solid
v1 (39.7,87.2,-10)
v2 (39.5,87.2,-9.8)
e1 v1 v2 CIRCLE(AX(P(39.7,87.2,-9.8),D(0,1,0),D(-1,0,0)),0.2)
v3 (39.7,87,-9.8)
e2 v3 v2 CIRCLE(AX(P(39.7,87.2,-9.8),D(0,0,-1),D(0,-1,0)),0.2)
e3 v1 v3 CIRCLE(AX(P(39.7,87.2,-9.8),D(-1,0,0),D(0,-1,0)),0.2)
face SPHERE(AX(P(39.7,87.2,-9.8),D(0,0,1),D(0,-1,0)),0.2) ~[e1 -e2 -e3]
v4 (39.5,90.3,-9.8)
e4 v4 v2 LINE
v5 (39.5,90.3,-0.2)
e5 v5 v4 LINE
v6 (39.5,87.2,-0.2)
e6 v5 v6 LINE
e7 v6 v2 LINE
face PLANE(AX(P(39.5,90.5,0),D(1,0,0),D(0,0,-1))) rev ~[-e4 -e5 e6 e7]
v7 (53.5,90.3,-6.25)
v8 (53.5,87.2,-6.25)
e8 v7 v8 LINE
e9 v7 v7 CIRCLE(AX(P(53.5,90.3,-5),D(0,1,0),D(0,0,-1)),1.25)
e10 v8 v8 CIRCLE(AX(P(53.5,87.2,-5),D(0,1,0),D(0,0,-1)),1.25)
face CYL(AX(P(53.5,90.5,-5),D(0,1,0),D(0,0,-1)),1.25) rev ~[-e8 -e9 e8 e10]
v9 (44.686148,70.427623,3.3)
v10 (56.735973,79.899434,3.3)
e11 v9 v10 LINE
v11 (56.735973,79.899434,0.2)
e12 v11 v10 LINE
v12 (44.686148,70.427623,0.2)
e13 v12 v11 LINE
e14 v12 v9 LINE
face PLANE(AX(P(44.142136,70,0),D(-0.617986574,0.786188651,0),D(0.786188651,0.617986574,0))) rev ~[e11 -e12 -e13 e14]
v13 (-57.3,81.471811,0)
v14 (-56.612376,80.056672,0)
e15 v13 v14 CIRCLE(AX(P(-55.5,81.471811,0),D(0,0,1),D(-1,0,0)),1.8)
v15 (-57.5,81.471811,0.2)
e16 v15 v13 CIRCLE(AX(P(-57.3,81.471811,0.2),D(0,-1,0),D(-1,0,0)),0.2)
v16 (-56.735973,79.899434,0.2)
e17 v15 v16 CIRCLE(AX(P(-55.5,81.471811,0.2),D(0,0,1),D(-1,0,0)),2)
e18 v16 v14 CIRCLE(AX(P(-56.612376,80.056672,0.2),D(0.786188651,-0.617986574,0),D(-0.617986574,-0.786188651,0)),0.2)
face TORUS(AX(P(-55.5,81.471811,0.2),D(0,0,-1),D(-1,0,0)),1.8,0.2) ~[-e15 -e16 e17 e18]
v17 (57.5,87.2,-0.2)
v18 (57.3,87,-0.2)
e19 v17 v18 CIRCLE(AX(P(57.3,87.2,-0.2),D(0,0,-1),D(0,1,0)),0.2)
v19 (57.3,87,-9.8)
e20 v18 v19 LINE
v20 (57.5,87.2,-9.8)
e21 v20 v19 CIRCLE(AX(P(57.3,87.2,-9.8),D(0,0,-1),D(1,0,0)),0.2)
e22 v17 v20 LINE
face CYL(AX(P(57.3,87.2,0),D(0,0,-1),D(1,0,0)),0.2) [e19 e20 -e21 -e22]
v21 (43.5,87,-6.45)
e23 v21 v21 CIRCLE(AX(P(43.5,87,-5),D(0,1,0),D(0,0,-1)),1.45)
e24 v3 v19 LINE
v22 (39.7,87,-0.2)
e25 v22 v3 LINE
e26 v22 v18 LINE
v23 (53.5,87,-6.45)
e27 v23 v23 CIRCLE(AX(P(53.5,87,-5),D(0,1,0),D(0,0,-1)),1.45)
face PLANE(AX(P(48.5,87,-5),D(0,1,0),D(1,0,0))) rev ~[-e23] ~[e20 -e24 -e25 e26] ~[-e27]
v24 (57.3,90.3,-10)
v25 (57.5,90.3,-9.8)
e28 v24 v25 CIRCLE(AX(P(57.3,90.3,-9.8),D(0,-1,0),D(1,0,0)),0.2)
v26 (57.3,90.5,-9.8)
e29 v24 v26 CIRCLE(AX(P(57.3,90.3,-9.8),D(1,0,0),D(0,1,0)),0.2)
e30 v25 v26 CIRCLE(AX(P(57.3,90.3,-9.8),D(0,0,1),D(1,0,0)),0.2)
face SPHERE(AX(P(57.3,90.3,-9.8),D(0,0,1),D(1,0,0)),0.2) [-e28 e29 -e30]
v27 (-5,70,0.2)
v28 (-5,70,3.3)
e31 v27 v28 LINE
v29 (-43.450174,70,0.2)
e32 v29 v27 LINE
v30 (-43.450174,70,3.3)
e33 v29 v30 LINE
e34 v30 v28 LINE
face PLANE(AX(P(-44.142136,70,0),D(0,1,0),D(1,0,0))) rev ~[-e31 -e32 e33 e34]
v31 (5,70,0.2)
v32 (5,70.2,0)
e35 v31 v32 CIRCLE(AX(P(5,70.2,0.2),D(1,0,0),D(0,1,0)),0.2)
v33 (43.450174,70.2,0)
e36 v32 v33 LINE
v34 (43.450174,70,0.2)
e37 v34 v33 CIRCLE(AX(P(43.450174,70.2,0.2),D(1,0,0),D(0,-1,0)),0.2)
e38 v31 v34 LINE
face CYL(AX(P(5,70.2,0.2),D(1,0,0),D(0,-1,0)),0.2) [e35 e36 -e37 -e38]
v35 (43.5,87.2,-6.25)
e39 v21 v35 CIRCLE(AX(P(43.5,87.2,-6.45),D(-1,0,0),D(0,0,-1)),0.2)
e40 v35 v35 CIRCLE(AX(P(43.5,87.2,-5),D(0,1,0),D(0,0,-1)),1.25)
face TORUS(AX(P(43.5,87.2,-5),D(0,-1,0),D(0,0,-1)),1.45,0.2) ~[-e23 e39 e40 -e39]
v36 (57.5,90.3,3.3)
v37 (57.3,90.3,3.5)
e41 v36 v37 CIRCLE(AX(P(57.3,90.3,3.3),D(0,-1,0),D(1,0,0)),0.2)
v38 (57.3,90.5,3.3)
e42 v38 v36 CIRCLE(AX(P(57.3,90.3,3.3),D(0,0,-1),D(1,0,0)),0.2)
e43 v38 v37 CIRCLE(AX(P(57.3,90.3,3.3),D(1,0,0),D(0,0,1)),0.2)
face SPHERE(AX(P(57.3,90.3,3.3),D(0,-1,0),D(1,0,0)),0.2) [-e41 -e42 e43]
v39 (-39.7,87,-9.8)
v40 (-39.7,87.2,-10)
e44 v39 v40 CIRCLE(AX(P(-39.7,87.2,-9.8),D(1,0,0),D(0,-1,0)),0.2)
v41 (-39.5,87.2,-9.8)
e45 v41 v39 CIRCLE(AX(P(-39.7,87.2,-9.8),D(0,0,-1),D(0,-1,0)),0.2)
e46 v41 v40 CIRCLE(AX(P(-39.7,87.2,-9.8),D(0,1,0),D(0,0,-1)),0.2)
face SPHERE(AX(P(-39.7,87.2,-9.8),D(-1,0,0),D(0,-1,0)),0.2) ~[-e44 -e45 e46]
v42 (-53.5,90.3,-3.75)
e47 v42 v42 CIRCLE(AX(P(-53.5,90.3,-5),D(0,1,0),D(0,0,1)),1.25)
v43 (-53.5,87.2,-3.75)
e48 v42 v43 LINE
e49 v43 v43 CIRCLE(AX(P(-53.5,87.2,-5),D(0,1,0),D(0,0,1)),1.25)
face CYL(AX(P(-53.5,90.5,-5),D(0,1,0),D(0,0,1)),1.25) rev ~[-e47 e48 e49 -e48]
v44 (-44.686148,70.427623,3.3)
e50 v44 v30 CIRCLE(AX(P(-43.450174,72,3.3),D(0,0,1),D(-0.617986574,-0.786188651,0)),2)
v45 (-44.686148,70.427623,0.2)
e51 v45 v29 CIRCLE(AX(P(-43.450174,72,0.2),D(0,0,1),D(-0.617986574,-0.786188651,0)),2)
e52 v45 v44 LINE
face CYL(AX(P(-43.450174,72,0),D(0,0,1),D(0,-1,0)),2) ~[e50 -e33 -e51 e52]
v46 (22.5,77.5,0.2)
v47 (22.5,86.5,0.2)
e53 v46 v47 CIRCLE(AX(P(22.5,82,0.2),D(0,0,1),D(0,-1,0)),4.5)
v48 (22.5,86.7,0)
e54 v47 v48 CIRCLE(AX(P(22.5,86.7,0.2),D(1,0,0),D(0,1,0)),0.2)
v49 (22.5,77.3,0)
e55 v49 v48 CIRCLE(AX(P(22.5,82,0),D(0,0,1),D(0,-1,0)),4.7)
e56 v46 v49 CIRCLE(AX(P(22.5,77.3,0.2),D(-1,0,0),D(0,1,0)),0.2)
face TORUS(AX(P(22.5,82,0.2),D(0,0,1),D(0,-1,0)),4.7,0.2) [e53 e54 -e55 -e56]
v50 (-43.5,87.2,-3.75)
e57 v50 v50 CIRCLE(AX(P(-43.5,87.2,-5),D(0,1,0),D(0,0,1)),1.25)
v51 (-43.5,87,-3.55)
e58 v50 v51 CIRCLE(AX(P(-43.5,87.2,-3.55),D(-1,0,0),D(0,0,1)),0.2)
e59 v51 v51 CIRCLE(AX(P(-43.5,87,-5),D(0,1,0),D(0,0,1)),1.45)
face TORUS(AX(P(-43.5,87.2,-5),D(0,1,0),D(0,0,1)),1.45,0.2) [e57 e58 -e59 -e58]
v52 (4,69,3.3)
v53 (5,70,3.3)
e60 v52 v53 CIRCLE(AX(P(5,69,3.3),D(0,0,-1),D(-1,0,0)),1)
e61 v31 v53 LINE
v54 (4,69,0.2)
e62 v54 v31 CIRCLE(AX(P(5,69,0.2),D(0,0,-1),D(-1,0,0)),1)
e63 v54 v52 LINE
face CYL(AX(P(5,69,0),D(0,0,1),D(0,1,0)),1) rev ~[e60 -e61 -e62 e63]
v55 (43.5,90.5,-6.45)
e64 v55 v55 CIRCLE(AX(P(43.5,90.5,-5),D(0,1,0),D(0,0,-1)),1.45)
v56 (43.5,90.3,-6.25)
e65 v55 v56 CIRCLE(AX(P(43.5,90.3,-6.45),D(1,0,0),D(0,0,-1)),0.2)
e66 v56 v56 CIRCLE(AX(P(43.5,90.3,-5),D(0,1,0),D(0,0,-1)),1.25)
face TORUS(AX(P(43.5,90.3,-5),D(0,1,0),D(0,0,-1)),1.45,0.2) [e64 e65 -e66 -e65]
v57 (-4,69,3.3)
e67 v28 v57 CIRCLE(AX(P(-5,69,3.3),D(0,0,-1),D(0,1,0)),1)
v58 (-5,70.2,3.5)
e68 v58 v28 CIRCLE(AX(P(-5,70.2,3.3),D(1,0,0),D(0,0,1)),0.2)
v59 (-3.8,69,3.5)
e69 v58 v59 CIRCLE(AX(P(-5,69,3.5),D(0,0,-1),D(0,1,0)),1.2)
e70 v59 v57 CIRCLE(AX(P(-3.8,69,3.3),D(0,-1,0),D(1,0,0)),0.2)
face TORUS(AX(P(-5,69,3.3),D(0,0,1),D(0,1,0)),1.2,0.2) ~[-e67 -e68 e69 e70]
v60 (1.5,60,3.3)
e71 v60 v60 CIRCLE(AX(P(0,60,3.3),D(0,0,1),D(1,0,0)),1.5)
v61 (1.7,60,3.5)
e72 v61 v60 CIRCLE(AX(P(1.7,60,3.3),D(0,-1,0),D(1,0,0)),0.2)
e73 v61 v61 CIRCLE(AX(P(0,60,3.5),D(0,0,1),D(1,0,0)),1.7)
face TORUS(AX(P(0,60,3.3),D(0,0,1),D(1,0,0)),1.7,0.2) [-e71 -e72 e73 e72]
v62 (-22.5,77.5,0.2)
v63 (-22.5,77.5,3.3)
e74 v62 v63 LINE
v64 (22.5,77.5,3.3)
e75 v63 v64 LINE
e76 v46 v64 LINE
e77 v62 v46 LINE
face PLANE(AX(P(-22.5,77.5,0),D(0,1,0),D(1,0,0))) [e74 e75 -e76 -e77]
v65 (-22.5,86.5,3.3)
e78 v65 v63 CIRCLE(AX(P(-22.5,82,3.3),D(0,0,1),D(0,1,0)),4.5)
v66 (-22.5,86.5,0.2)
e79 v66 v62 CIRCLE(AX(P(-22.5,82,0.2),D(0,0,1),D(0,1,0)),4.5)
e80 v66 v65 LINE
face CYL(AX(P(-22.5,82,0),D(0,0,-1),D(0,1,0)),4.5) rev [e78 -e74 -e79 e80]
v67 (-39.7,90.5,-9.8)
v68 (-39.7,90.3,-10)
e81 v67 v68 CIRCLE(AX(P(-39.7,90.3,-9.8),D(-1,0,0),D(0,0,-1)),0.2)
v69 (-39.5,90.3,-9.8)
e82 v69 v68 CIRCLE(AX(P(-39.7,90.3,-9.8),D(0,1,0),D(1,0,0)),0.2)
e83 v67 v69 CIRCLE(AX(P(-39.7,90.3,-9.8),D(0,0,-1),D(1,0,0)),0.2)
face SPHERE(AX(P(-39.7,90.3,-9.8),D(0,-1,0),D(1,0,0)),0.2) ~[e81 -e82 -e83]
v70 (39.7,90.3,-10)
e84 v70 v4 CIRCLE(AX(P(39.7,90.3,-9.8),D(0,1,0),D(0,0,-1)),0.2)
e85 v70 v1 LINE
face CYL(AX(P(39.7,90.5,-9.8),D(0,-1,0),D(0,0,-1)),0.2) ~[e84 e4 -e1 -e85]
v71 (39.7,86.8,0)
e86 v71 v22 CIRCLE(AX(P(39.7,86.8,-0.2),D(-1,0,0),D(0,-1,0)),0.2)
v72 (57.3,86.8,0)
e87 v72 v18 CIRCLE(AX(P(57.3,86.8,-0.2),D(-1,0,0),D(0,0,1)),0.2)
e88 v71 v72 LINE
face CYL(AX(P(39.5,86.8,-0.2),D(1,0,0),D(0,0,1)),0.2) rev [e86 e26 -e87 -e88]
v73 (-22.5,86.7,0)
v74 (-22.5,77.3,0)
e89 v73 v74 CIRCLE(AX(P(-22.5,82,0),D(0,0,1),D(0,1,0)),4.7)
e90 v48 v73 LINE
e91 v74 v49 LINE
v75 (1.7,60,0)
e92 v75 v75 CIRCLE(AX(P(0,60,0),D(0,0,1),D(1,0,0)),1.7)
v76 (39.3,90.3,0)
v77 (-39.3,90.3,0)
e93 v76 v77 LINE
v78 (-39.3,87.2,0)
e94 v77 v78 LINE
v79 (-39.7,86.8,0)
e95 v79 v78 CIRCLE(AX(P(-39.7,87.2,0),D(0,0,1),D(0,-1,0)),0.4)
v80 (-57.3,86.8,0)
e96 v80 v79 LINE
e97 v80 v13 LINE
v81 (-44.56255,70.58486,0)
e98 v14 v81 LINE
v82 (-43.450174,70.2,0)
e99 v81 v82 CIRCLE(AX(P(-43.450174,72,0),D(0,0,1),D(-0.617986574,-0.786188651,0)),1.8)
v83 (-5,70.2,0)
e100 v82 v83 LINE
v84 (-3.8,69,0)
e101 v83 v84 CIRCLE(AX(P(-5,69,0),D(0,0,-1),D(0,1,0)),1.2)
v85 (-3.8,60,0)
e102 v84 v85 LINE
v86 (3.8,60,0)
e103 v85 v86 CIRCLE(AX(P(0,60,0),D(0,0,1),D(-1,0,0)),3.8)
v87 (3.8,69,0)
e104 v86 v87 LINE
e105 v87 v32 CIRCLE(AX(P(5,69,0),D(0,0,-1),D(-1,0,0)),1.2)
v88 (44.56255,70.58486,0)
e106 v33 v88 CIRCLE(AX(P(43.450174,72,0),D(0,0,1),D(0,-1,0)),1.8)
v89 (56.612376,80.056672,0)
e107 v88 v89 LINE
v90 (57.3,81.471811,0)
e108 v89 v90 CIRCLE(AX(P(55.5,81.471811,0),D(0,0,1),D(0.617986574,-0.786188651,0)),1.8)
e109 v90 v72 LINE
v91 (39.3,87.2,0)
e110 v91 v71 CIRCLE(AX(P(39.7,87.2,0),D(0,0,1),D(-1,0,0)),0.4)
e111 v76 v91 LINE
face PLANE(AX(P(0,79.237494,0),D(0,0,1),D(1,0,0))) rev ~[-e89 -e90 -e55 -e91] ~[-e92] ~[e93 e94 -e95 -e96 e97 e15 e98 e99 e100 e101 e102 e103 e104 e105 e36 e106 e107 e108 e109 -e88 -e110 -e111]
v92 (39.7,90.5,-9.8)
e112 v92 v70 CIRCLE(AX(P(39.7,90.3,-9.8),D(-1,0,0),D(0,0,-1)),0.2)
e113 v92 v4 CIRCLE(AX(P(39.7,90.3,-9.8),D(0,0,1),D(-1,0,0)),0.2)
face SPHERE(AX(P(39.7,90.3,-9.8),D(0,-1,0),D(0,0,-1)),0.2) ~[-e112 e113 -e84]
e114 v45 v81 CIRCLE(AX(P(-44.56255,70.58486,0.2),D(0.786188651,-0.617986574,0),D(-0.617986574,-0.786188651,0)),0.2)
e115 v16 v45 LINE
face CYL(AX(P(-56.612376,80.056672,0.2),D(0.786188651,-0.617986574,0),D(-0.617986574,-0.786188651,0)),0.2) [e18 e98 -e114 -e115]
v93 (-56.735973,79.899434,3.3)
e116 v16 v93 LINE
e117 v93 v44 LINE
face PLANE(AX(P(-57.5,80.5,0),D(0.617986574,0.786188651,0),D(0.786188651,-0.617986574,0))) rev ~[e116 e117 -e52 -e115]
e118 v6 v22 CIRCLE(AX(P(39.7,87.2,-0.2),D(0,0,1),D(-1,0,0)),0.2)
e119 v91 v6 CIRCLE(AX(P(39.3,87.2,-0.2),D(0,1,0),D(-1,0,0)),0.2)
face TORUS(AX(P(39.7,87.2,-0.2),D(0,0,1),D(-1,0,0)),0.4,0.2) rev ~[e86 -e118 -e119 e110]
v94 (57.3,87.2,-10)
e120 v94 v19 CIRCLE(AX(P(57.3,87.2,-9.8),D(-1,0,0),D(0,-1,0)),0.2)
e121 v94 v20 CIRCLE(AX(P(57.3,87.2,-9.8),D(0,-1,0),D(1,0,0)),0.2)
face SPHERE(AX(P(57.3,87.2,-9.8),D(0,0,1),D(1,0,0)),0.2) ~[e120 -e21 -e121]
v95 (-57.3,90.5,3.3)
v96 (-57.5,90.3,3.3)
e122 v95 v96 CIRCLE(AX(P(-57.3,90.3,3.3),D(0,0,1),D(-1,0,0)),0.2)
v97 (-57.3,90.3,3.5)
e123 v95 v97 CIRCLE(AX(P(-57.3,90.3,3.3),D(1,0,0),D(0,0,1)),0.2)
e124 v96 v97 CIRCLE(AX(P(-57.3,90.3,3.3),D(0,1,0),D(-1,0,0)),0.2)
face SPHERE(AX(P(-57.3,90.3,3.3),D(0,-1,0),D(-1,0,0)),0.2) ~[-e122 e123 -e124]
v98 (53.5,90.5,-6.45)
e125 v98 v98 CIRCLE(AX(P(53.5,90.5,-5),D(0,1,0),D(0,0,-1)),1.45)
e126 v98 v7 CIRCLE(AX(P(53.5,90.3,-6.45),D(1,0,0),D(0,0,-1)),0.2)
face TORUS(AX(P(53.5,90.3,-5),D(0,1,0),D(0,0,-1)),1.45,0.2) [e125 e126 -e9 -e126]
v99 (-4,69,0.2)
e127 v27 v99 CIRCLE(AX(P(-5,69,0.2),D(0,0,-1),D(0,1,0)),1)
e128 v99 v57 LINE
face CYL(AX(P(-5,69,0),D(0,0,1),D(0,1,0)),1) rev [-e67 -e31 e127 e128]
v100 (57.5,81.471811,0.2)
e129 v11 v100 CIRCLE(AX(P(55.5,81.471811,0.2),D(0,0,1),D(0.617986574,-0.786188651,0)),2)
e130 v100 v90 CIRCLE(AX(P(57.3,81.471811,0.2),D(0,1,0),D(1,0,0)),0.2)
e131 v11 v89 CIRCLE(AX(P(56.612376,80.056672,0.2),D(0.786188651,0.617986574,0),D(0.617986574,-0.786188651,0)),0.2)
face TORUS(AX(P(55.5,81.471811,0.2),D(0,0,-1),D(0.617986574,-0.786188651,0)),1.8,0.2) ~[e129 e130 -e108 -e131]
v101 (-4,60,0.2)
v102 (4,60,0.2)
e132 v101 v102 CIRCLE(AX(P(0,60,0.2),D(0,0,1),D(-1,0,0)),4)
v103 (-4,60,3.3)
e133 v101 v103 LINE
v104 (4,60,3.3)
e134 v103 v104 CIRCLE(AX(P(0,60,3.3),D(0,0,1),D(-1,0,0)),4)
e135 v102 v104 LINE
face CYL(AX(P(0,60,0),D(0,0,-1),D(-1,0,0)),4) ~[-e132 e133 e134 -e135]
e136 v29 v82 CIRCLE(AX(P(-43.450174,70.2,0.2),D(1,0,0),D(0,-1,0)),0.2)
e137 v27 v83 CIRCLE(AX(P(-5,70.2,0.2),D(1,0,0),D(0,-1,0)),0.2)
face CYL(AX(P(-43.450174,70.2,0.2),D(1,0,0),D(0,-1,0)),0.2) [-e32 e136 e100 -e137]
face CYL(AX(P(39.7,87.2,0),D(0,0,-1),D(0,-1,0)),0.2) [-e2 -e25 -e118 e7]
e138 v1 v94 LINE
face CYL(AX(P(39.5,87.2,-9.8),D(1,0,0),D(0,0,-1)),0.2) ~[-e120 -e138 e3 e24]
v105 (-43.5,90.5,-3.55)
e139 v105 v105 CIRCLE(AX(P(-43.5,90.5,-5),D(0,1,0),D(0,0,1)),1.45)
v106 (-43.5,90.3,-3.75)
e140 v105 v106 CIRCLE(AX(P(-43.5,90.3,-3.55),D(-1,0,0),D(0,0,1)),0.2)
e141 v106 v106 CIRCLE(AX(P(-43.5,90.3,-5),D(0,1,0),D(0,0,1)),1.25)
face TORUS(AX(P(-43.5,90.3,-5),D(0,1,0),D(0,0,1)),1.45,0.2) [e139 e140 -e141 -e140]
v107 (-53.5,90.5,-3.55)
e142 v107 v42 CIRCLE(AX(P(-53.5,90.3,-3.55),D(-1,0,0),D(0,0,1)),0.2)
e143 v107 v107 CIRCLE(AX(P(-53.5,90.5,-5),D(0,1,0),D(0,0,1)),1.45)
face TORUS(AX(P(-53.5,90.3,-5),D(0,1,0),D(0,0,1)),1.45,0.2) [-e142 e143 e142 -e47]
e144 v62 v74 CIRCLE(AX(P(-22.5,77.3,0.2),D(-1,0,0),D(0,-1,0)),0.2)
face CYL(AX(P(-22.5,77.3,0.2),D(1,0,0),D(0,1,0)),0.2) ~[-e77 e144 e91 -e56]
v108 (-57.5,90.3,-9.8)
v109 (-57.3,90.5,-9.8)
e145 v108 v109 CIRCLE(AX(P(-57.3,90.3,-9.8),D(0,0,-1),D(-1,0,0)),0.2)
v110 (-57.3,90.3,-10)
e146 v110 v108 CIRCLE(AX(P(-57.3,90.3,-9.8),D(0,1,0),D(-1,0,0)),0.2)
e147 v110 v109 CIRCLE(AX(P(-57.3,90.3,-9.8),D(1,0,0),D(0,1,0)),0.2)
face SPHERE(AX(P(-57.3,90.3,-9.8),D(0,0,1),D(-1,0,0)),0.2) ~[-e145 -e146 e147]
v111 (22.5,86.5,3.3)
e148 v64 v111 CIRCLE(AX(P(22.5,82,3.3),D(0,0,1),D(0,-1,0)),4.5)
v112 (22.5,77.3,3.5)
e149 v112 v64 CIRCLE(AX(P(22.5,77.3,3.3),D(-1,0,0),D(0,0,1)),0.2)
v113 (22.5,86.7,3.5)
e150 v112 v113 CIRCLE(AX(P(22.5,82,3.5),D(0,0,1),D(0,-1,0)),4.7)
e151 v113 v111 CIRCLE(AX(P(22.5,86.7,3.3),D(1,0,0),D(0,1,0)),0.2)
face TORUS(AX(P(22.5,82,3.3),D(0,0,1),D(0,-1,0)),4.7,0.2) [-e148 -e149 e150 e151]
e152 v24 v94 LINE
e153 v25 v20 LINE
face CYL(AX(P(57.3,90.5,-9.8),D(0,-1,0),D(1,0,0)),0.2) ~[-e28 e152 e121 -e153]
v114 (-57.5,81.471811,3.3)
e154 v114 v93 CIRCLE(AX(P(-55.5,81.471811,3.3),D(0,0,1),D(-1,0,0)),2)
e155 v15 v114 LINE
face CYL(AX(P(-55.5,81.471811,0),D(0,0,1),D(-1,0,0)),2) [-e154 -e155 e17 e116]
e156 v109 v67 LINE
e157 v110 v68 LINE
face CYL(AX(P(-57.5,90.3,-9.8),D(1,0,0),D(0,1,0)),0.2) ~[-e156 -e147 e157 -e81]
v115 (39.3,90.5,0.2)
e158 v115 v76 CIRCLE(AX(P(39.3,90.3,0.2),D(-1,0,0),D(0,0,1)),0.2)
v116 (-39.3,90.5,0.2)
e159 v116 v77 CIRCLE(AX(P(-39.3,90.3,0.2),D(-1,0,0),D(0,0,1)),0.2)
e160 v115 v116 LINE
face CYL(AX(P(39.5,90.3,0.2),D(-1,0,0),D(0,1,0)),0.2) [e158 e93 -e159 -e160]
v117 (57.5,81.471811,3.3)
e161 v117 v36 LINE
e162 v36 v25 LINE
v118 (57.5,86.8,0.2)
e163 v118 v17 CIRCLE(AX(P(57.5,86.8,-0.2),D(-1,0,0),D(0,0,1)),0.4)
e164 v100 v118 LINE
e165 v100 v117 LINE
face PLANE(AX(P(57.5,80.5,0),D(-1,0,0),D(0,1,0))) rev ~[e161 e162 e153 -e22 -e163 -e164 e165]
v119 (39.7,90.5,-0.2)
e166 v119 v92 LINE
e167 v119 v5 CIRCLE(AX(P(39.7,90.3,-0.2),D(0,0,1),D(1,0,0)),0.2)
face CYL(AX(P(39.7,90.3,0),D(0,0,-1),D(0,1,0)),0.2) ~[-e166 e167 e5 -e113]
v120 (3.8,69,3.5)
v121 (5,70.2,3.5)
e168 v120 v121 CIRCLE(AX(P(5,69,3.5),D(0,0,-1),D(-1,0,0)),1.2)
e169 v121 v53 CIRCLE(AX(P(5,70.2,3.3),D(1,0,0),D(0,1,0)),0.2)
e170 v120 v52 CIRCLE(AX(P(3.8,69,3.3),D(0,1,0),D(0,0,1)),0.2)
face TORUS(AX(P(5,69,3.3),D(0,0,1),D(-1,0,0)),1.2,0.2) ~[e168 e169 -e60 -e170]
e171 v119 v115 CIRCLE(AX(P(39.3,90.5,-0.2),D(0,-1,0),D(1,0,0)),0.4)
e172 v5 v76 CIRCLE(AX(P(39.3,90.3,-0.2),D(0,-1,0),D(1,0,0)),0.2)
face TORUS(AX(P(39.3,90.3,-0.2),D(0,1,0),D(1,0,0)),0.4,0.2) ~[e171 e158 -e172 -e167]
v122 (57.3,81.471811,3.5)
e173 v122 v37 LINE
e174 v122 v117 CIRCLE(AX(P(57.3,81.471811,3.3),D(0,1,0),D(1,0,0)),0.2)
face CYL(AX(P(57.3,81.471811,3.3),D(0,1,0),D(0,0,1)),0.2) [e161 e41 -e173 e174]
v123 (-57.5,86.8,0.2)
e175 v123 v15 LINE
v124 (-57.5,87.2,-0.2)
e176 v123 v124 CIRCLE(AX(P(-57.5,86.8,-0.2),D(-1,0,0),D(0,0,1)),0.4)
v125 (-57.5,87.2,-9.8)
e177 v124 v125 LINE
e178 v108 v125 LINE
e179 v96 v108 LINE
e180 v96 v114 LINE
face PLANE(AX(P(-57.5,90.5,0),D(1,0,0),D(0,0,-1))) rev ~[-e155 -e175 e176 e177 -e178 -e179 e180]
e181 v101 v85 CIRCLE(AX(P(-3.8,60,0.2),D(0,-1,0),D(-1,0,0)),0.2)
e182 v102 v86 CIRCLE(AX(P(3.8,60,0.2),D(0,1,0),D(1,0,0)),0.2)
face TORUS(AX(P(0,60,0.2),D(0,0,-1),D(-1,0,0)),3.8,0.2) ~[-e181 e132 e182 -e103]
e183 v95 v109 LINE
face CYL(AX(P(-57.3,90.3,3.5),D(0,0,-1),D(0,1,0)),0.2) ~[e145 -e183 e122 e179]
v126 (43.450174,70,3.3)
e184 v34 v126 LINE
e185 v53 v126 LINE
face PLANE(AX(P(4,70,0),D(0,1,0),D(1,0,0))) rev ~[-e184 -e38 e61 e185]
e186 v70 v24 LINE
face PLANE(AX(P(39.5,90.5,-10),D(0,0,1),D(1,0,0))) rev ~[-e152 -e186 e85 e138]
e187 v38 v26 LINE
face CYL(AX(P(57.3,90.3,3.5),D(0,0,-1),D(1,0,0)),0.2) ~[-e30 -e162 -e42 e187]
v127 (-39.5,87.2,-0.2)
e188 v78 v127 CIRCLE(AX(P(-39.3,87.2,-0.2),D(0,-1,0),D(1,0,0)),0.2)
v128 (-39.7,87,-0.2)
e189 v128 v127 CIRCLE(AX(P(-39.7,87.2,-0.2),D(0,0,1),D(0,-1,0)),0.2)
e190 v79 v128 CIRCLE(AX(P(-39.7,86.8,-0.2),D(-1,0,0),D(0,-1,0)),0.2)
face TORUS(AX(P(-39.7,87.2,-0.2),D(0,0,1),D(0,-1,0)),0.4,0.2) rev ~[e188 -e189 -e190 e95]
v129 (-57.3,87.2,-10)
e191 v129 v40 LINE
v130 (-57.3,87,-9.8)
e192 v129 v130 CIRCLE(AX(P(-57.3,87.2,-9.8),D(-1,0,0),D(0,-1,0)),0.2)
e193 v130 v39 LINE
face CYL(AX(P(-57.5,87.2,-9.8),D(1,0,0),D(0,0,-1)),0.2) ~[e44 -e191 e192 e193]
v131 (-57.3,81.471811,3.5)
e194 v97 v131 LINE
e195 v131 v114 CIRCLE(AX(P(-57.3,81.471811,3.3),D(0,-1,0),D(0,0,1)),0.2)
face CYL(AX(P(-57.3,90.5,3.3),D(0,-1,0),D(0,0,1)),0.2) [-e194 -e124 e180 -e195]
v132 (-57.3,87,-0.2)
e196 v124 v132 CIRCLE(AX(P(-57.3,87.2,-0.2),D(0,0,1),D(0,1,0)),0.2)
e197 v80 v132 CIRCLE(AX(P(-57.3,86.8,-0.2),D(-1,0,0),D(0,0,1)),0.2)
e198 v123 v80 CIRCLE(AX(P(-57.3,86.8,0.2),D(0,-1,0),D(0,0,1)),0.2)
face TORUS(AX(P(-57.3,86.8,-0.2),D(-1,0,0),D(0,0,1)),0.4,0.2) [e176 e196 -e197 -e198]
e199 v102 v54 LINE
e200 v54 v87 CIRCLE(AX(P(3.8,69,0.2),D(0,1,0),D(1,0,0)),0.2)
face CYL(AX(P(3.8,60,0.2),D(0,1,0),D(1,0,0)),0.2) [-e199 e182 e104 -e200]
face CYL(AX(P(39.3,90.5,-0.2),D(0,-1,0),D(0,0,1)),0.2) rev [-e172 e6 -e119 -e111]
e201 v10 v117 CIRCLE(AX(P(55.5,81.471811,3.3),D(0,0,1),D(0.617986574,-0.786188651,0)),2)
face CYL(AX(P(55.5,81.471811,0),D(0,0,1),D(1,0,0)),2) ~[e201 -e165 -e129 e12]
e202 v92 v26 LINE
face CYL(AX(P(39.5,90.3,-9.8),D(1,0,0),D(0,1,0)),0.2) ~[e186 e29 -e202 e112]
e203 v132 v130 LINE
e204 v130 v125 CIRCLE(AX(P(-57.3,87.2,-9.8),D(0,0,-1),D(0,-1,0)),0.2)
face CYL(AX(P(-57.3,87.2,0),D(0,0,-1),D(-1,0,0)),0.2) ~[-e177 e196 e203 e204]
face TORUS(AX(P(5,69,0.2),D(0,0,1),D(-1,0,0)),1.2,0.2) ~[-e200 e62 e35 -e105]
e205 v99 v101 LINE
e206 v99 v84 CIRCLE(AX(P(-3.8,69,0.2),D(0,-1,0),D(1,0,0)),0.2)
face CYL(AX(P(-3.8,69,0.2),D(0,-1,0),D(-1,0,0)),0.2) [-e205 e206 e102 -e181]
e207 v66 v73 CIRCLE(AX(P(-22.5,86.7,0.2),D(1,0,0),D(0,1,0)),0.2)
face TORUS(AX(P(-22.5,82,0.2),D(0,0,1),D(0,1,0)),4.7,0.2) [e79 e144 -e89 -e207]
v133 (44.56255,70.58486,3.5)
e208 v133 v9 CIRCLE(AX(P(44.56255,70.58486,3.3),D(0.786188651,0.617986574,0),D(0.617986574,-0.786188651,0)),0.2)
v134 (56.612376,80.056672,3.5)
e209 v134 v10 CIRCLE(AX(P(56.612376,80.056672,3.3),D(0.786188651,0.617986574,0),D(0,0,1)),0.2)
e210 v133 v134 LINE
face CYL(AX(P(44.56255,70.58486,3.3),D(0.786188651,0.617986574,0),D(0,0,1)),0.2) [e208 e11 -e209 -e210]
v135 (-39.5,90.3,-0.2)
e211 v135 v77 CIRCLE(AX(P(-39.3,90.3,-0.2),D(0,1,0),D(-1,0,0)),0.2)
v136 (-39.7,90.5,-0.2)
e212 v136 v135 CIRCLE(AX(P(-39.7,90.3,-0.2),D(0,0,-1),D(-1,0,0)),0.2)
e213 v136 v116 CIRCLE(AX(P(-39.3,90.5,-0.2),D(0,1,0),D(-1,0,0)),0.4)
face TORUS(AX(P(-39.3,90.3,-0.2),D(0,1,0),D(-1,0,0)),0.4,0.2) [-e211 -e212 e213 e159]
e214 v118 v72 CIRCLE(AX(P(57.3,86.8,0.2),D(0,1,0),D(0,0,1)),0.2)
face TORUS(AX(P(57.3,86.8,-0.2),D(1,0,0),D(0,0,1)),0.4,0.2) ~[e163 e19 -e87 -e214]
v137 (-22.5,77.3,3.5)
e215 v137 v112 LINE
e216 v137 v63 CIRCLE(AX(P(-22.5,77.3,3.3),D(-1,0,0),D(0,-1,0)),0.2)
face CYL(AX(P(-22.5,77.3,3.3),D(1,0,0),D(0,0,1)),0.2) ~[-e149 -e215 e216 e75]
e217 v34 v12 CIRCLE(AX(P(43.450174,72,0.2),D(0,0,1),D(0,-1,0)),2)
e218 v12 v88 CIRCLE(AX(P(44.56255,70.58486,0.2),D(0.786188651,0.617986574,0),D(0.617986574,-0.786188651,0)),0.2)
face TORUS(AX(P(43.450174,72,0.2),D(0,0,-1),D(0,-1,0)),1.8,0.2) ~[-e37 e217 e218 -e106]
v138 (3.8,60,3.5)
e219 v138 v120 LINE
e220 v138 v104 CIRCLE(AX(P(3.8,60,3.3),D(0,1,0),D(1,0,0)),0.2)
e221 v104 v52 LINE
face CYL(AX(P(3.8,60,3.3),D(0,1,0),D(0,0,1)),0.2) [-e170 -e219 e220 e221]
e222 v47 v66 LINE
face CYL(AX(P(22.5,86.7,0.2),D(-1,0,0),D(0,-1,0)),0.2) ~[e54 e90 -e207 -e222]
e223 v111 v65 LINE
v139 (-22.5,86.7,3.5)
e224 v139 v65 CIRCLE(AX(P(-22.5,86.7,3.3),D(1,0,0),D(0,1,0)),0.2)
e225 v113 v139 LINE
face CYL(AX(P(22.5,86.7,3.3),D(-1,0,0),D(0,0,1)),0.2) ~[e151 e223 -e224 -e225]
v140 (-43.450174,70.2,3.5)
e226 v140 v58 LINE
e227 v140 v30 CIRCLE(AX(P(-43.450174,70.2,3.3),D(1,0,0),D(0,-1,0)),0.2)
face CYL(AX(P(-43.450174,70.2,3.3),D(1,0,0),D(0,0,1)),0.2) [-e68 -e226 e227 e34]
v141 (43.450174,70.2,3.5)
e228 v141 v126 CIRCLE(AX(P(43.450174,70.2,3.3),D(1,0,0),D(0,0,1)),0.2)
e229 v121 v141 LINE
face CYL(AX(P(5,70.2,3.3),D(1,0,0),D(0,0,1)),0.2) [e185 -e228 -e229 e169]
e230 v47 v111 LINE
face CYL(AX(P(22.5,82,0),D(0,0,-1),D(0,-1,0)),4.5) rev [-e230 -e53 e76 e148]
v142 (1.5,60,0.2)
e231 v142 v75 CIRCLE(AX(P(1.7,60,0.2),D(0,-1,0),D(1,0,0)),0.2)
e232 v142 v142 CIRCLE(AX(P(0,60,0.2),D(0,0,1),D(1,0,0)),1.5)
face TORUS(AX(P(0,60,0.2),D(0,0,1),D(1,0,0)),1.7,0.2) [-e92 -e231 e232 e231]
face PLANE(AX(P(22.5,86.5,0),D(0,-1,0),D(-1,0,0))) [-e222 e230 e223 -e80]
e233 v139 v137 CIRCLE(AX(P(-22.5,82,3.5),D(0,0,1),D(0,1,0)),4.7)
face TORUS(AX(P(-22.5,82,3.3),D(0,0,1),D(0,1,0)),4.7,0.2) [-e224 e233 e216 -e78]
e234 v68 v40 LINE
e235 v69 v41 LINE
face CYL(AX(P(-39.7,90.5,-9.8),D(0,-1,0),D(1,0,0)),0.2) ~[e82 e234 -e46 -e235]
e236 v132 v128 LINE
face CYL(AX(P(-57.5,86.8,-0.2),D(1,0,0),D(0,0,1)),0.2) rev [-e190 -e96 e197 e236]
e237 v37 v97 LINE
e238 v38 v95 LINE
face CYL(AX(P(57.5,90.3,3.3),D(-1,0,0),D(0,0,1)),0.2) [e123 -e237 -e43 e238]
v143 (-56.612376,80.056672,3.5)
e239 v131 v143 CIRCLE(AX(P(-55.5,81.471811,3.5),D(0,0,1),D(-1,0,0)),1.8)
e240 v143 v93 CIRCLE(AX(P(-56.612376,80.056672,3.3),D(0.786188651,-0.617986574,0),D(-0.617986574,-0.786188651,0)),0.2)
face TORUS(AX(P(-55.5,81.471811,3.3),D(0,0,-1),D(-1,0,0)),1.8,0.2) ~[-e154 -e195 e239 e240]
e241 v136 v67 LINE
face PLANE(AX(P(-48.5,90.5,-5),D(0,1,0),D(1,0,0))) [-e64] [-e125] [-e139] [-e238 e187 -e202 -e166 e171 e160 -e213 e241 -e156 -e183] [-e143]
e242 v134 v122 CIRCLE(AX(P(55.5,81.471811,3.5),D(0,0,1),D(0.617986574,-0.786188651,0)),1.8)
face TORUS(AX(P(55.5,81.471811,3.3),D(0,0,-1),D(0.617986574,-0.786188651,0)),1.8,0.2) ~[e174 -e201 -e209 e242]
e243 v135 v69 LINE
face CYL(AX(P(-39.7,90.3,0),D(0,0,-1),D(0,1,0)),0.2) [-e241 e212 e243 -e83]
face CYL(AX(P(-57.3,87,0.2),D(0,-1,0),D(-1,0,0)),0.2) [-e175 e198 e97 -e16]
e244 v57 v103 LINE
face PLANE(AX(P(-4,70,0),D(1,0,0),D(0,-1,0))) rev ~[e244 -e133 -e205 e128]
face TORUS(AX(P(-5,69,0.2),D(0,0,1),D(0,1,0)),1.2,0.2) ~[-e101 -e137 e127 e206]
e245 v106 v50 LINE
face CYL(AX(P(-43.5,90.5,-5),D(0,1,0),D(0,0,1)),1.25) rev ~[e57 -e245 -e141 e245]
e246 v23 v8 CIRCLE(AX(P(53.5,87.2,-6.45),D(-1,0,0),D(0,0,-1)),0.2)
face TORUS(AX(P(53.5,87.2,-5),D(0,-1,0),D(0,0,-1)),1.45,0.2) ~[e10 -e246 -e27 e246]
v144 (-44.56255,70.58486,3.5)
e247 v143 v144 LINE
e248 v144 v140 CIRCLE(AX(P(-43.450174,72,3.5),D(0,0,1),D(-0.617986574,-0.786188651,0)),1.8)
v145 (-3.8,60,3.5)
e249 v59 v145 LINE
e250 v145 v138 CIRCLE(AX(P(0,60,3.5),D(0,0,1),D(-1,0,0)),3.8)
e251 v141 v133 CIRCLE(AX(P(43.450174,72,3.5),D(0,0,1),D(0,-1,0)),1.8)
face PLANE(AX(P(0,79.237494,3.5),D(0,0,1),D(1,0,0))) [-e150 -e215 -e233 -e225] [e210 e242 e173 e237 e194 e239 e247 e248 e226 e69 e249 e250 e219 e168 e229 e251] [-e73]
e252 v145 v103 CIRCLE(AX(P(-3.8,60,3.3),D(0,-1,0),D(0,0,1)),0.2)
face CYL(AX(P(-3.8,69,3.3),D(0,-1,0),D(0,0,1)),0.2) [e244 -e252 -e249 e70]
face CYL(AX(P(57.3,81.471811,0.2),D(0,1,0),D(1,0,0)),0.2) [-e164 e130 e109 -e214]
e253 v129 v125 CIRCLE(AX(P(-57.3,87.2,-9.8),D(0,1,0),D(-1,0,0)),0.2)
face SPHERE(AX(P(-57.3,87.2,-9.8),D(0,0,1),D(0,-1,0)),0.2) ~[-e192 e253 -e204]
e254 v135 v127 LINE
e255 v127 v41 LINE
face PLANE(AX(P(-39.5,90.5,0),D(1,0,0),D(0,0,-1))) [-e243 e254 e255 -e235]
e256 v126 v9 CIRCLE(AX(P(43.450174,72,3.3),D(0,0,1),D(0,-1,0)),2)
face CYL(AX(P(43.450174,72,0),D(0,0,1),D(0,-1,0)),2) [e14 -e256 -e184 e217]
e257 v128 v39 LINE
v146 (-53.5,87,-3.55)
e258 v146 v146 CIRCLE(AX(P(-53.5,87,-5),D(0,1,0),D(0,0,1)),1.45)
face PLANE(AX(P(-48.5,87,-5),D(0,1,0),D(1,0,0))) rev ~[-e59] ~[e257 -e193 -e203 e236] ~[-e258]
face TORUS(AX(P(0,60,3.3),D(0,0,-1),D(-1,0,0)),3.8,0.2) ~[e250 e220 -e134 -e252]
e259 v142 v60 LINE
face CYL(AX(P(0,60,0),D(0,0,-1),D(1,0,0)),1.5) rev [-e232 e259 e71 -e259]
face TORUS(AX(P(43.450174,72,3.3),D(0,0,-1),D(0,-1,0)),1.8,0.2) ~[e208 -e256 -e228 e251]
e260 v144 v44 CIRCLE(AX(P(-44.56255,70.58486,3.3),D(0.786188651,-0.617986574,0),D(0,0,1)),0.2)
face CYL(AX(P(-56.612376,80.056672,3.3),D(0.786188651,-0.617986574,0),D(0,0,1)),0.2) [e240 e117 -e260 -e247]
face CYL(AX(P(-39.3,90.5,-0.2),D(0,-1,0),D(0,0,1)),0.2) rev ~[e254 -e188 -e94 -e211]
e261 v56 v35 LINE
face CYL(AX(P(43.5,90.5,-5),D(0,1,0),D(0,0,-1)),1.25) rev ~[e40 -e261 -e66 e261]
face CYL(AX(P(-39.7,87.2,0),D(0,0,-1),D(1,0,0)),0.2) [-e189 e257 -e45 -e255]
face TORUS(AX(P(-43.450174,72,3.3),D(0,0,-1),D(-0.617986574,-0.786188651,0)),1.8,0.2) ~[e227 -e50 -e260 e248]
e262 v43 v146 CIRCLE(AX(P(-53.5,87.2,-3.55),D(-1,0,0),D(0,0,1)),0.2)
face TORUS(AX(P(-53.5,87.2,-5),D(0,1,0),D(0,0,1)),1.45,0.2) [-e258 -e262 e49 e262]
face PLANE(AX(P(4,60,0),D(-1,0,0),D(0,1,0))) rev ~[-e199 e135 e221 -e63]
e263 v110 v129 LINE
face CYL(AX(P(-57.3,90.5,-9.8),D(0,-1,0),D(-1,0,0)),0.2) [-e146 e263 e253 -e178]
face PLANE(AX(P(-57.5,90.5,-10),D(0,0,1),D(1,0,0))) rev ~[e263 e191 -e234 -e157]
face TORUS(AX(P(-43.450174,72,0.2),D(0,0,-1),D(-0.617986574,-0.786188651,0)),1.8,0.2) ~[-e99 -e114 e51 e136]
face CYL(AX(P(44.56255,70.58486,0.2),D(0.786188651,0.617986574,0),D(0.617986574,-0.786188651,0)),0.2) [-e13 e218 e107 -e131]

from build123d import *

# Parameters (mm, degrees)
SKETCH5_R           = 1.5
BOSS_EXTRUDE2_DEPTH = 3.5
SKETCH6_W           = 18
SKETCH6_H           = 10
SKETCH6_R           = 1.25
BOSS_EXTRUDE3_DEPTH = 3.5
FILLET1_R           = 2
FILLET2_R           = 1
FILLET3_R           = 0.2


with BuildPart() as part:
    # Sketch5 → Boss-Extrude2 (new body)
    with BuildSketch(Plane.XY):
        with BuildLine():
            Line((57.5, 80.5), (57.5, 90.5))
            Line((57.5, 90.5), (-57.5, 90.5))
            Line((-57.5, 90.5), (-57.5, 80.5))
            Line((-57.5, 80.5), (-44.142135624, 70))
            Line((-44.142135624, 70), (-4, 70))
            Line((-4, 70), (-4, 60))
            ThreePointArc((-4, 60), (0, 56), (4, 60))
            Line((4, 60), (4, 70))
            Line((4, 70), (44.142135624, 70))
            Line((44.142135624, 70), (57.5, 80.5))
        make_face()
        with Locations((0, 60)):
            Circle(SKETCH5_R, mode=Mode.SUBTRACT)
        with BuildLine():
            Line((22.5, 86.5), (-22.5, 86.5))
            ThreePointArc((-22.5, 86.5), (-27, 82), (-22.5, 77.5))
            Line((-22.5, 77.5), (22.5, 77.5))
            ThreePointArc((22.5, 77.5), (27, 82), (22.5, 86.5))
        make_face(mode=Mode.SUBTRACT)
    extrude(amount=BOSS_EXTRUDE2_DEPTH)

    # Sketch6 → Boss-Extrude3 (add)
    # profile 1 of 2: a face of its own
    with BuildSketch(Plane(origin=(0, 90.5, 0), x_dir=(1, 0, 0), z_dir=(0, 1, 0))):
        with Locations((-48.5, 5)):
            Rectangle(SKETCH6_W, SKETCH6_H)
        with Locations(Location((-53.5, 5, 0), (0, 0, 270))):
            Circle(SKETCH6_R, mode=Mode.SUBTRACT)
        with Locations(Location((-43.5, 5, 0), (0, 0, 270))):
            Circle(SKETCH6_R, mode=Mode.SUBTRACT)
    # profile 2 of 2: a face of its own
    with BuildSketch(Plane(origin=(0, 90.5, 0), x_dir=(1, 0, 0), z_dir=(0, 1, 0))):
        with Locations((48.5, 5)):
            Rectangle(SKETCH6_W, SKETCH6_H)
        with Locations(Location((43.5, 5, 0), (0, 0, 90))):
            Circle(SKETCH6_R, mode=Mode.SUBTRACT)
        with Locations(Location((53.5, 5, 0), (0, 0, 90))):
            Circle(SKETCH6_R, mode=Mode.SUBTRACT)
    extrude(amount=-BOSS_EXTRUDE3_DEPTH)

    # Fillet1
    fillet1_edges = [part.edges().sort_by_distance(p)[0] for p in [
        (57.5, 80.5, 1.75),
        (44.142135624, 70, 1.75),
        (-44.142135624, 70, 1.75),
        (-57.5, 80.5, 1.75),
    ]]
    fillet(fillet1_edges, radius=FILLET1_R)

    # Fillet2
    fillet2_edges = [part.edges().sort_by_distance(p)[0] for p in [
        (4, 70, 1.75),
        (-4, 70, 1.75),
    ]]
    fillet(fillet2_edges, radius=FILLET2_R)

    # Fillet3
    fillet3_edges = [part.edges().sort_by_distance(p)[0] for p in [
        (-4, 64.5, 0),
        (-4, 64.5, 3.5),
        (24.225087239, 70, 0),
        (24.225087239, 70, 3.5),
        (-4.292893219, 69.707106781, 0),
        (-4.292893219, 69.707106781, 3.5),
        (4.292893219, 69.707106781, 0),
        (4.292893219, 69.707106781, 3.5),
        (4, 64.5, 0),
        (0, 56, 0),
        (57.5, 90.5, -3.25),
        (-57.5, 90.5, -3.25),
        (0, 56, 3.5),
        (-1.5, 60, 0),
        (-1.5, 60, 3.5),
        (4, 64.5, 3.5),
        (-27, 82, 0),
        (0, 77.5, 0),
        (27, 82, 0),
        (0, 86.5, 0),
        (-27, 82, 3.5),
        (0, 77.5, 3.5),
        (27, 82, 3.5),
        (0, 86.5, 3.5),
        (-57.5, 84.235905547, 0),
        (0, 90.5, 3.5),
        (-57.5, 87, -5),
        (-48.5, 87, -10),
        (-57.5, 88.75, -10),
        (-39.5, 87, -5),
        (-39.5, 88.75, -10),
        (-48.5, 87, 0),
        (-39.5, 88.75, 0),
        (-43.5, 87, -6.25),
        (-53.5, 87, -6.25),
        (-39.5, 90.5, -5),
        (-48.5, 90.5, -10),
        (-53.5, 90.5, -6.25),
        (-43.5, 90.5, -6.25),
        (0, 90.5, 0),
        (57.5, 87, -5),
        (57.5, 88.75, -10),
        (48.5, 87, 0),
        (39.5, 87, -5),
        (39.5, 88.75, 0),
        (48.5, 87, -10),
        (39.5, 88.75, -10),
        (53.5, 87, -3.75),
        (43.5, 87, -3.75),
        (48.5, 90.5, -10),
        (39.5, 90.5, -5),
        (43.5, 90.5, -3.75),
        (53.5, 90.5, -3.75),
        (-24.225087239, 70, 0),
        (-24.225087239, 70, 3.5),
        (57.5, 84.235905547, 0),
        (50.711060386, 75.163528245, 0),
        (-50.711060386, 75.163528245, 0),
        (44.104103141, 70.109926641, 0),
        (57.298881082, 80.597724798, 0),
        (-57.298881082, 80.597724798, 0),
        (-44.104103141, 70.109926641, 0),
        (-50.711060386, 75.163528245, 3.5),
        (-57.5, 85.985905547, 3.5),
        (50.711060386, 75.163528245, 3.5),
        (57.5, 85.985905547, 3.5),
        (44.104103141, 70.109926641, 3.5),
        (57.298881082, 80.597724798, 3.5),
        (-57.298881082, 80.597724798, 3.5),
        (-44.104103141, 70.109926641, 3.5),
    ]]
    fillet(fillet3_edges, radius=FILLET3_R)


solid = part.part
